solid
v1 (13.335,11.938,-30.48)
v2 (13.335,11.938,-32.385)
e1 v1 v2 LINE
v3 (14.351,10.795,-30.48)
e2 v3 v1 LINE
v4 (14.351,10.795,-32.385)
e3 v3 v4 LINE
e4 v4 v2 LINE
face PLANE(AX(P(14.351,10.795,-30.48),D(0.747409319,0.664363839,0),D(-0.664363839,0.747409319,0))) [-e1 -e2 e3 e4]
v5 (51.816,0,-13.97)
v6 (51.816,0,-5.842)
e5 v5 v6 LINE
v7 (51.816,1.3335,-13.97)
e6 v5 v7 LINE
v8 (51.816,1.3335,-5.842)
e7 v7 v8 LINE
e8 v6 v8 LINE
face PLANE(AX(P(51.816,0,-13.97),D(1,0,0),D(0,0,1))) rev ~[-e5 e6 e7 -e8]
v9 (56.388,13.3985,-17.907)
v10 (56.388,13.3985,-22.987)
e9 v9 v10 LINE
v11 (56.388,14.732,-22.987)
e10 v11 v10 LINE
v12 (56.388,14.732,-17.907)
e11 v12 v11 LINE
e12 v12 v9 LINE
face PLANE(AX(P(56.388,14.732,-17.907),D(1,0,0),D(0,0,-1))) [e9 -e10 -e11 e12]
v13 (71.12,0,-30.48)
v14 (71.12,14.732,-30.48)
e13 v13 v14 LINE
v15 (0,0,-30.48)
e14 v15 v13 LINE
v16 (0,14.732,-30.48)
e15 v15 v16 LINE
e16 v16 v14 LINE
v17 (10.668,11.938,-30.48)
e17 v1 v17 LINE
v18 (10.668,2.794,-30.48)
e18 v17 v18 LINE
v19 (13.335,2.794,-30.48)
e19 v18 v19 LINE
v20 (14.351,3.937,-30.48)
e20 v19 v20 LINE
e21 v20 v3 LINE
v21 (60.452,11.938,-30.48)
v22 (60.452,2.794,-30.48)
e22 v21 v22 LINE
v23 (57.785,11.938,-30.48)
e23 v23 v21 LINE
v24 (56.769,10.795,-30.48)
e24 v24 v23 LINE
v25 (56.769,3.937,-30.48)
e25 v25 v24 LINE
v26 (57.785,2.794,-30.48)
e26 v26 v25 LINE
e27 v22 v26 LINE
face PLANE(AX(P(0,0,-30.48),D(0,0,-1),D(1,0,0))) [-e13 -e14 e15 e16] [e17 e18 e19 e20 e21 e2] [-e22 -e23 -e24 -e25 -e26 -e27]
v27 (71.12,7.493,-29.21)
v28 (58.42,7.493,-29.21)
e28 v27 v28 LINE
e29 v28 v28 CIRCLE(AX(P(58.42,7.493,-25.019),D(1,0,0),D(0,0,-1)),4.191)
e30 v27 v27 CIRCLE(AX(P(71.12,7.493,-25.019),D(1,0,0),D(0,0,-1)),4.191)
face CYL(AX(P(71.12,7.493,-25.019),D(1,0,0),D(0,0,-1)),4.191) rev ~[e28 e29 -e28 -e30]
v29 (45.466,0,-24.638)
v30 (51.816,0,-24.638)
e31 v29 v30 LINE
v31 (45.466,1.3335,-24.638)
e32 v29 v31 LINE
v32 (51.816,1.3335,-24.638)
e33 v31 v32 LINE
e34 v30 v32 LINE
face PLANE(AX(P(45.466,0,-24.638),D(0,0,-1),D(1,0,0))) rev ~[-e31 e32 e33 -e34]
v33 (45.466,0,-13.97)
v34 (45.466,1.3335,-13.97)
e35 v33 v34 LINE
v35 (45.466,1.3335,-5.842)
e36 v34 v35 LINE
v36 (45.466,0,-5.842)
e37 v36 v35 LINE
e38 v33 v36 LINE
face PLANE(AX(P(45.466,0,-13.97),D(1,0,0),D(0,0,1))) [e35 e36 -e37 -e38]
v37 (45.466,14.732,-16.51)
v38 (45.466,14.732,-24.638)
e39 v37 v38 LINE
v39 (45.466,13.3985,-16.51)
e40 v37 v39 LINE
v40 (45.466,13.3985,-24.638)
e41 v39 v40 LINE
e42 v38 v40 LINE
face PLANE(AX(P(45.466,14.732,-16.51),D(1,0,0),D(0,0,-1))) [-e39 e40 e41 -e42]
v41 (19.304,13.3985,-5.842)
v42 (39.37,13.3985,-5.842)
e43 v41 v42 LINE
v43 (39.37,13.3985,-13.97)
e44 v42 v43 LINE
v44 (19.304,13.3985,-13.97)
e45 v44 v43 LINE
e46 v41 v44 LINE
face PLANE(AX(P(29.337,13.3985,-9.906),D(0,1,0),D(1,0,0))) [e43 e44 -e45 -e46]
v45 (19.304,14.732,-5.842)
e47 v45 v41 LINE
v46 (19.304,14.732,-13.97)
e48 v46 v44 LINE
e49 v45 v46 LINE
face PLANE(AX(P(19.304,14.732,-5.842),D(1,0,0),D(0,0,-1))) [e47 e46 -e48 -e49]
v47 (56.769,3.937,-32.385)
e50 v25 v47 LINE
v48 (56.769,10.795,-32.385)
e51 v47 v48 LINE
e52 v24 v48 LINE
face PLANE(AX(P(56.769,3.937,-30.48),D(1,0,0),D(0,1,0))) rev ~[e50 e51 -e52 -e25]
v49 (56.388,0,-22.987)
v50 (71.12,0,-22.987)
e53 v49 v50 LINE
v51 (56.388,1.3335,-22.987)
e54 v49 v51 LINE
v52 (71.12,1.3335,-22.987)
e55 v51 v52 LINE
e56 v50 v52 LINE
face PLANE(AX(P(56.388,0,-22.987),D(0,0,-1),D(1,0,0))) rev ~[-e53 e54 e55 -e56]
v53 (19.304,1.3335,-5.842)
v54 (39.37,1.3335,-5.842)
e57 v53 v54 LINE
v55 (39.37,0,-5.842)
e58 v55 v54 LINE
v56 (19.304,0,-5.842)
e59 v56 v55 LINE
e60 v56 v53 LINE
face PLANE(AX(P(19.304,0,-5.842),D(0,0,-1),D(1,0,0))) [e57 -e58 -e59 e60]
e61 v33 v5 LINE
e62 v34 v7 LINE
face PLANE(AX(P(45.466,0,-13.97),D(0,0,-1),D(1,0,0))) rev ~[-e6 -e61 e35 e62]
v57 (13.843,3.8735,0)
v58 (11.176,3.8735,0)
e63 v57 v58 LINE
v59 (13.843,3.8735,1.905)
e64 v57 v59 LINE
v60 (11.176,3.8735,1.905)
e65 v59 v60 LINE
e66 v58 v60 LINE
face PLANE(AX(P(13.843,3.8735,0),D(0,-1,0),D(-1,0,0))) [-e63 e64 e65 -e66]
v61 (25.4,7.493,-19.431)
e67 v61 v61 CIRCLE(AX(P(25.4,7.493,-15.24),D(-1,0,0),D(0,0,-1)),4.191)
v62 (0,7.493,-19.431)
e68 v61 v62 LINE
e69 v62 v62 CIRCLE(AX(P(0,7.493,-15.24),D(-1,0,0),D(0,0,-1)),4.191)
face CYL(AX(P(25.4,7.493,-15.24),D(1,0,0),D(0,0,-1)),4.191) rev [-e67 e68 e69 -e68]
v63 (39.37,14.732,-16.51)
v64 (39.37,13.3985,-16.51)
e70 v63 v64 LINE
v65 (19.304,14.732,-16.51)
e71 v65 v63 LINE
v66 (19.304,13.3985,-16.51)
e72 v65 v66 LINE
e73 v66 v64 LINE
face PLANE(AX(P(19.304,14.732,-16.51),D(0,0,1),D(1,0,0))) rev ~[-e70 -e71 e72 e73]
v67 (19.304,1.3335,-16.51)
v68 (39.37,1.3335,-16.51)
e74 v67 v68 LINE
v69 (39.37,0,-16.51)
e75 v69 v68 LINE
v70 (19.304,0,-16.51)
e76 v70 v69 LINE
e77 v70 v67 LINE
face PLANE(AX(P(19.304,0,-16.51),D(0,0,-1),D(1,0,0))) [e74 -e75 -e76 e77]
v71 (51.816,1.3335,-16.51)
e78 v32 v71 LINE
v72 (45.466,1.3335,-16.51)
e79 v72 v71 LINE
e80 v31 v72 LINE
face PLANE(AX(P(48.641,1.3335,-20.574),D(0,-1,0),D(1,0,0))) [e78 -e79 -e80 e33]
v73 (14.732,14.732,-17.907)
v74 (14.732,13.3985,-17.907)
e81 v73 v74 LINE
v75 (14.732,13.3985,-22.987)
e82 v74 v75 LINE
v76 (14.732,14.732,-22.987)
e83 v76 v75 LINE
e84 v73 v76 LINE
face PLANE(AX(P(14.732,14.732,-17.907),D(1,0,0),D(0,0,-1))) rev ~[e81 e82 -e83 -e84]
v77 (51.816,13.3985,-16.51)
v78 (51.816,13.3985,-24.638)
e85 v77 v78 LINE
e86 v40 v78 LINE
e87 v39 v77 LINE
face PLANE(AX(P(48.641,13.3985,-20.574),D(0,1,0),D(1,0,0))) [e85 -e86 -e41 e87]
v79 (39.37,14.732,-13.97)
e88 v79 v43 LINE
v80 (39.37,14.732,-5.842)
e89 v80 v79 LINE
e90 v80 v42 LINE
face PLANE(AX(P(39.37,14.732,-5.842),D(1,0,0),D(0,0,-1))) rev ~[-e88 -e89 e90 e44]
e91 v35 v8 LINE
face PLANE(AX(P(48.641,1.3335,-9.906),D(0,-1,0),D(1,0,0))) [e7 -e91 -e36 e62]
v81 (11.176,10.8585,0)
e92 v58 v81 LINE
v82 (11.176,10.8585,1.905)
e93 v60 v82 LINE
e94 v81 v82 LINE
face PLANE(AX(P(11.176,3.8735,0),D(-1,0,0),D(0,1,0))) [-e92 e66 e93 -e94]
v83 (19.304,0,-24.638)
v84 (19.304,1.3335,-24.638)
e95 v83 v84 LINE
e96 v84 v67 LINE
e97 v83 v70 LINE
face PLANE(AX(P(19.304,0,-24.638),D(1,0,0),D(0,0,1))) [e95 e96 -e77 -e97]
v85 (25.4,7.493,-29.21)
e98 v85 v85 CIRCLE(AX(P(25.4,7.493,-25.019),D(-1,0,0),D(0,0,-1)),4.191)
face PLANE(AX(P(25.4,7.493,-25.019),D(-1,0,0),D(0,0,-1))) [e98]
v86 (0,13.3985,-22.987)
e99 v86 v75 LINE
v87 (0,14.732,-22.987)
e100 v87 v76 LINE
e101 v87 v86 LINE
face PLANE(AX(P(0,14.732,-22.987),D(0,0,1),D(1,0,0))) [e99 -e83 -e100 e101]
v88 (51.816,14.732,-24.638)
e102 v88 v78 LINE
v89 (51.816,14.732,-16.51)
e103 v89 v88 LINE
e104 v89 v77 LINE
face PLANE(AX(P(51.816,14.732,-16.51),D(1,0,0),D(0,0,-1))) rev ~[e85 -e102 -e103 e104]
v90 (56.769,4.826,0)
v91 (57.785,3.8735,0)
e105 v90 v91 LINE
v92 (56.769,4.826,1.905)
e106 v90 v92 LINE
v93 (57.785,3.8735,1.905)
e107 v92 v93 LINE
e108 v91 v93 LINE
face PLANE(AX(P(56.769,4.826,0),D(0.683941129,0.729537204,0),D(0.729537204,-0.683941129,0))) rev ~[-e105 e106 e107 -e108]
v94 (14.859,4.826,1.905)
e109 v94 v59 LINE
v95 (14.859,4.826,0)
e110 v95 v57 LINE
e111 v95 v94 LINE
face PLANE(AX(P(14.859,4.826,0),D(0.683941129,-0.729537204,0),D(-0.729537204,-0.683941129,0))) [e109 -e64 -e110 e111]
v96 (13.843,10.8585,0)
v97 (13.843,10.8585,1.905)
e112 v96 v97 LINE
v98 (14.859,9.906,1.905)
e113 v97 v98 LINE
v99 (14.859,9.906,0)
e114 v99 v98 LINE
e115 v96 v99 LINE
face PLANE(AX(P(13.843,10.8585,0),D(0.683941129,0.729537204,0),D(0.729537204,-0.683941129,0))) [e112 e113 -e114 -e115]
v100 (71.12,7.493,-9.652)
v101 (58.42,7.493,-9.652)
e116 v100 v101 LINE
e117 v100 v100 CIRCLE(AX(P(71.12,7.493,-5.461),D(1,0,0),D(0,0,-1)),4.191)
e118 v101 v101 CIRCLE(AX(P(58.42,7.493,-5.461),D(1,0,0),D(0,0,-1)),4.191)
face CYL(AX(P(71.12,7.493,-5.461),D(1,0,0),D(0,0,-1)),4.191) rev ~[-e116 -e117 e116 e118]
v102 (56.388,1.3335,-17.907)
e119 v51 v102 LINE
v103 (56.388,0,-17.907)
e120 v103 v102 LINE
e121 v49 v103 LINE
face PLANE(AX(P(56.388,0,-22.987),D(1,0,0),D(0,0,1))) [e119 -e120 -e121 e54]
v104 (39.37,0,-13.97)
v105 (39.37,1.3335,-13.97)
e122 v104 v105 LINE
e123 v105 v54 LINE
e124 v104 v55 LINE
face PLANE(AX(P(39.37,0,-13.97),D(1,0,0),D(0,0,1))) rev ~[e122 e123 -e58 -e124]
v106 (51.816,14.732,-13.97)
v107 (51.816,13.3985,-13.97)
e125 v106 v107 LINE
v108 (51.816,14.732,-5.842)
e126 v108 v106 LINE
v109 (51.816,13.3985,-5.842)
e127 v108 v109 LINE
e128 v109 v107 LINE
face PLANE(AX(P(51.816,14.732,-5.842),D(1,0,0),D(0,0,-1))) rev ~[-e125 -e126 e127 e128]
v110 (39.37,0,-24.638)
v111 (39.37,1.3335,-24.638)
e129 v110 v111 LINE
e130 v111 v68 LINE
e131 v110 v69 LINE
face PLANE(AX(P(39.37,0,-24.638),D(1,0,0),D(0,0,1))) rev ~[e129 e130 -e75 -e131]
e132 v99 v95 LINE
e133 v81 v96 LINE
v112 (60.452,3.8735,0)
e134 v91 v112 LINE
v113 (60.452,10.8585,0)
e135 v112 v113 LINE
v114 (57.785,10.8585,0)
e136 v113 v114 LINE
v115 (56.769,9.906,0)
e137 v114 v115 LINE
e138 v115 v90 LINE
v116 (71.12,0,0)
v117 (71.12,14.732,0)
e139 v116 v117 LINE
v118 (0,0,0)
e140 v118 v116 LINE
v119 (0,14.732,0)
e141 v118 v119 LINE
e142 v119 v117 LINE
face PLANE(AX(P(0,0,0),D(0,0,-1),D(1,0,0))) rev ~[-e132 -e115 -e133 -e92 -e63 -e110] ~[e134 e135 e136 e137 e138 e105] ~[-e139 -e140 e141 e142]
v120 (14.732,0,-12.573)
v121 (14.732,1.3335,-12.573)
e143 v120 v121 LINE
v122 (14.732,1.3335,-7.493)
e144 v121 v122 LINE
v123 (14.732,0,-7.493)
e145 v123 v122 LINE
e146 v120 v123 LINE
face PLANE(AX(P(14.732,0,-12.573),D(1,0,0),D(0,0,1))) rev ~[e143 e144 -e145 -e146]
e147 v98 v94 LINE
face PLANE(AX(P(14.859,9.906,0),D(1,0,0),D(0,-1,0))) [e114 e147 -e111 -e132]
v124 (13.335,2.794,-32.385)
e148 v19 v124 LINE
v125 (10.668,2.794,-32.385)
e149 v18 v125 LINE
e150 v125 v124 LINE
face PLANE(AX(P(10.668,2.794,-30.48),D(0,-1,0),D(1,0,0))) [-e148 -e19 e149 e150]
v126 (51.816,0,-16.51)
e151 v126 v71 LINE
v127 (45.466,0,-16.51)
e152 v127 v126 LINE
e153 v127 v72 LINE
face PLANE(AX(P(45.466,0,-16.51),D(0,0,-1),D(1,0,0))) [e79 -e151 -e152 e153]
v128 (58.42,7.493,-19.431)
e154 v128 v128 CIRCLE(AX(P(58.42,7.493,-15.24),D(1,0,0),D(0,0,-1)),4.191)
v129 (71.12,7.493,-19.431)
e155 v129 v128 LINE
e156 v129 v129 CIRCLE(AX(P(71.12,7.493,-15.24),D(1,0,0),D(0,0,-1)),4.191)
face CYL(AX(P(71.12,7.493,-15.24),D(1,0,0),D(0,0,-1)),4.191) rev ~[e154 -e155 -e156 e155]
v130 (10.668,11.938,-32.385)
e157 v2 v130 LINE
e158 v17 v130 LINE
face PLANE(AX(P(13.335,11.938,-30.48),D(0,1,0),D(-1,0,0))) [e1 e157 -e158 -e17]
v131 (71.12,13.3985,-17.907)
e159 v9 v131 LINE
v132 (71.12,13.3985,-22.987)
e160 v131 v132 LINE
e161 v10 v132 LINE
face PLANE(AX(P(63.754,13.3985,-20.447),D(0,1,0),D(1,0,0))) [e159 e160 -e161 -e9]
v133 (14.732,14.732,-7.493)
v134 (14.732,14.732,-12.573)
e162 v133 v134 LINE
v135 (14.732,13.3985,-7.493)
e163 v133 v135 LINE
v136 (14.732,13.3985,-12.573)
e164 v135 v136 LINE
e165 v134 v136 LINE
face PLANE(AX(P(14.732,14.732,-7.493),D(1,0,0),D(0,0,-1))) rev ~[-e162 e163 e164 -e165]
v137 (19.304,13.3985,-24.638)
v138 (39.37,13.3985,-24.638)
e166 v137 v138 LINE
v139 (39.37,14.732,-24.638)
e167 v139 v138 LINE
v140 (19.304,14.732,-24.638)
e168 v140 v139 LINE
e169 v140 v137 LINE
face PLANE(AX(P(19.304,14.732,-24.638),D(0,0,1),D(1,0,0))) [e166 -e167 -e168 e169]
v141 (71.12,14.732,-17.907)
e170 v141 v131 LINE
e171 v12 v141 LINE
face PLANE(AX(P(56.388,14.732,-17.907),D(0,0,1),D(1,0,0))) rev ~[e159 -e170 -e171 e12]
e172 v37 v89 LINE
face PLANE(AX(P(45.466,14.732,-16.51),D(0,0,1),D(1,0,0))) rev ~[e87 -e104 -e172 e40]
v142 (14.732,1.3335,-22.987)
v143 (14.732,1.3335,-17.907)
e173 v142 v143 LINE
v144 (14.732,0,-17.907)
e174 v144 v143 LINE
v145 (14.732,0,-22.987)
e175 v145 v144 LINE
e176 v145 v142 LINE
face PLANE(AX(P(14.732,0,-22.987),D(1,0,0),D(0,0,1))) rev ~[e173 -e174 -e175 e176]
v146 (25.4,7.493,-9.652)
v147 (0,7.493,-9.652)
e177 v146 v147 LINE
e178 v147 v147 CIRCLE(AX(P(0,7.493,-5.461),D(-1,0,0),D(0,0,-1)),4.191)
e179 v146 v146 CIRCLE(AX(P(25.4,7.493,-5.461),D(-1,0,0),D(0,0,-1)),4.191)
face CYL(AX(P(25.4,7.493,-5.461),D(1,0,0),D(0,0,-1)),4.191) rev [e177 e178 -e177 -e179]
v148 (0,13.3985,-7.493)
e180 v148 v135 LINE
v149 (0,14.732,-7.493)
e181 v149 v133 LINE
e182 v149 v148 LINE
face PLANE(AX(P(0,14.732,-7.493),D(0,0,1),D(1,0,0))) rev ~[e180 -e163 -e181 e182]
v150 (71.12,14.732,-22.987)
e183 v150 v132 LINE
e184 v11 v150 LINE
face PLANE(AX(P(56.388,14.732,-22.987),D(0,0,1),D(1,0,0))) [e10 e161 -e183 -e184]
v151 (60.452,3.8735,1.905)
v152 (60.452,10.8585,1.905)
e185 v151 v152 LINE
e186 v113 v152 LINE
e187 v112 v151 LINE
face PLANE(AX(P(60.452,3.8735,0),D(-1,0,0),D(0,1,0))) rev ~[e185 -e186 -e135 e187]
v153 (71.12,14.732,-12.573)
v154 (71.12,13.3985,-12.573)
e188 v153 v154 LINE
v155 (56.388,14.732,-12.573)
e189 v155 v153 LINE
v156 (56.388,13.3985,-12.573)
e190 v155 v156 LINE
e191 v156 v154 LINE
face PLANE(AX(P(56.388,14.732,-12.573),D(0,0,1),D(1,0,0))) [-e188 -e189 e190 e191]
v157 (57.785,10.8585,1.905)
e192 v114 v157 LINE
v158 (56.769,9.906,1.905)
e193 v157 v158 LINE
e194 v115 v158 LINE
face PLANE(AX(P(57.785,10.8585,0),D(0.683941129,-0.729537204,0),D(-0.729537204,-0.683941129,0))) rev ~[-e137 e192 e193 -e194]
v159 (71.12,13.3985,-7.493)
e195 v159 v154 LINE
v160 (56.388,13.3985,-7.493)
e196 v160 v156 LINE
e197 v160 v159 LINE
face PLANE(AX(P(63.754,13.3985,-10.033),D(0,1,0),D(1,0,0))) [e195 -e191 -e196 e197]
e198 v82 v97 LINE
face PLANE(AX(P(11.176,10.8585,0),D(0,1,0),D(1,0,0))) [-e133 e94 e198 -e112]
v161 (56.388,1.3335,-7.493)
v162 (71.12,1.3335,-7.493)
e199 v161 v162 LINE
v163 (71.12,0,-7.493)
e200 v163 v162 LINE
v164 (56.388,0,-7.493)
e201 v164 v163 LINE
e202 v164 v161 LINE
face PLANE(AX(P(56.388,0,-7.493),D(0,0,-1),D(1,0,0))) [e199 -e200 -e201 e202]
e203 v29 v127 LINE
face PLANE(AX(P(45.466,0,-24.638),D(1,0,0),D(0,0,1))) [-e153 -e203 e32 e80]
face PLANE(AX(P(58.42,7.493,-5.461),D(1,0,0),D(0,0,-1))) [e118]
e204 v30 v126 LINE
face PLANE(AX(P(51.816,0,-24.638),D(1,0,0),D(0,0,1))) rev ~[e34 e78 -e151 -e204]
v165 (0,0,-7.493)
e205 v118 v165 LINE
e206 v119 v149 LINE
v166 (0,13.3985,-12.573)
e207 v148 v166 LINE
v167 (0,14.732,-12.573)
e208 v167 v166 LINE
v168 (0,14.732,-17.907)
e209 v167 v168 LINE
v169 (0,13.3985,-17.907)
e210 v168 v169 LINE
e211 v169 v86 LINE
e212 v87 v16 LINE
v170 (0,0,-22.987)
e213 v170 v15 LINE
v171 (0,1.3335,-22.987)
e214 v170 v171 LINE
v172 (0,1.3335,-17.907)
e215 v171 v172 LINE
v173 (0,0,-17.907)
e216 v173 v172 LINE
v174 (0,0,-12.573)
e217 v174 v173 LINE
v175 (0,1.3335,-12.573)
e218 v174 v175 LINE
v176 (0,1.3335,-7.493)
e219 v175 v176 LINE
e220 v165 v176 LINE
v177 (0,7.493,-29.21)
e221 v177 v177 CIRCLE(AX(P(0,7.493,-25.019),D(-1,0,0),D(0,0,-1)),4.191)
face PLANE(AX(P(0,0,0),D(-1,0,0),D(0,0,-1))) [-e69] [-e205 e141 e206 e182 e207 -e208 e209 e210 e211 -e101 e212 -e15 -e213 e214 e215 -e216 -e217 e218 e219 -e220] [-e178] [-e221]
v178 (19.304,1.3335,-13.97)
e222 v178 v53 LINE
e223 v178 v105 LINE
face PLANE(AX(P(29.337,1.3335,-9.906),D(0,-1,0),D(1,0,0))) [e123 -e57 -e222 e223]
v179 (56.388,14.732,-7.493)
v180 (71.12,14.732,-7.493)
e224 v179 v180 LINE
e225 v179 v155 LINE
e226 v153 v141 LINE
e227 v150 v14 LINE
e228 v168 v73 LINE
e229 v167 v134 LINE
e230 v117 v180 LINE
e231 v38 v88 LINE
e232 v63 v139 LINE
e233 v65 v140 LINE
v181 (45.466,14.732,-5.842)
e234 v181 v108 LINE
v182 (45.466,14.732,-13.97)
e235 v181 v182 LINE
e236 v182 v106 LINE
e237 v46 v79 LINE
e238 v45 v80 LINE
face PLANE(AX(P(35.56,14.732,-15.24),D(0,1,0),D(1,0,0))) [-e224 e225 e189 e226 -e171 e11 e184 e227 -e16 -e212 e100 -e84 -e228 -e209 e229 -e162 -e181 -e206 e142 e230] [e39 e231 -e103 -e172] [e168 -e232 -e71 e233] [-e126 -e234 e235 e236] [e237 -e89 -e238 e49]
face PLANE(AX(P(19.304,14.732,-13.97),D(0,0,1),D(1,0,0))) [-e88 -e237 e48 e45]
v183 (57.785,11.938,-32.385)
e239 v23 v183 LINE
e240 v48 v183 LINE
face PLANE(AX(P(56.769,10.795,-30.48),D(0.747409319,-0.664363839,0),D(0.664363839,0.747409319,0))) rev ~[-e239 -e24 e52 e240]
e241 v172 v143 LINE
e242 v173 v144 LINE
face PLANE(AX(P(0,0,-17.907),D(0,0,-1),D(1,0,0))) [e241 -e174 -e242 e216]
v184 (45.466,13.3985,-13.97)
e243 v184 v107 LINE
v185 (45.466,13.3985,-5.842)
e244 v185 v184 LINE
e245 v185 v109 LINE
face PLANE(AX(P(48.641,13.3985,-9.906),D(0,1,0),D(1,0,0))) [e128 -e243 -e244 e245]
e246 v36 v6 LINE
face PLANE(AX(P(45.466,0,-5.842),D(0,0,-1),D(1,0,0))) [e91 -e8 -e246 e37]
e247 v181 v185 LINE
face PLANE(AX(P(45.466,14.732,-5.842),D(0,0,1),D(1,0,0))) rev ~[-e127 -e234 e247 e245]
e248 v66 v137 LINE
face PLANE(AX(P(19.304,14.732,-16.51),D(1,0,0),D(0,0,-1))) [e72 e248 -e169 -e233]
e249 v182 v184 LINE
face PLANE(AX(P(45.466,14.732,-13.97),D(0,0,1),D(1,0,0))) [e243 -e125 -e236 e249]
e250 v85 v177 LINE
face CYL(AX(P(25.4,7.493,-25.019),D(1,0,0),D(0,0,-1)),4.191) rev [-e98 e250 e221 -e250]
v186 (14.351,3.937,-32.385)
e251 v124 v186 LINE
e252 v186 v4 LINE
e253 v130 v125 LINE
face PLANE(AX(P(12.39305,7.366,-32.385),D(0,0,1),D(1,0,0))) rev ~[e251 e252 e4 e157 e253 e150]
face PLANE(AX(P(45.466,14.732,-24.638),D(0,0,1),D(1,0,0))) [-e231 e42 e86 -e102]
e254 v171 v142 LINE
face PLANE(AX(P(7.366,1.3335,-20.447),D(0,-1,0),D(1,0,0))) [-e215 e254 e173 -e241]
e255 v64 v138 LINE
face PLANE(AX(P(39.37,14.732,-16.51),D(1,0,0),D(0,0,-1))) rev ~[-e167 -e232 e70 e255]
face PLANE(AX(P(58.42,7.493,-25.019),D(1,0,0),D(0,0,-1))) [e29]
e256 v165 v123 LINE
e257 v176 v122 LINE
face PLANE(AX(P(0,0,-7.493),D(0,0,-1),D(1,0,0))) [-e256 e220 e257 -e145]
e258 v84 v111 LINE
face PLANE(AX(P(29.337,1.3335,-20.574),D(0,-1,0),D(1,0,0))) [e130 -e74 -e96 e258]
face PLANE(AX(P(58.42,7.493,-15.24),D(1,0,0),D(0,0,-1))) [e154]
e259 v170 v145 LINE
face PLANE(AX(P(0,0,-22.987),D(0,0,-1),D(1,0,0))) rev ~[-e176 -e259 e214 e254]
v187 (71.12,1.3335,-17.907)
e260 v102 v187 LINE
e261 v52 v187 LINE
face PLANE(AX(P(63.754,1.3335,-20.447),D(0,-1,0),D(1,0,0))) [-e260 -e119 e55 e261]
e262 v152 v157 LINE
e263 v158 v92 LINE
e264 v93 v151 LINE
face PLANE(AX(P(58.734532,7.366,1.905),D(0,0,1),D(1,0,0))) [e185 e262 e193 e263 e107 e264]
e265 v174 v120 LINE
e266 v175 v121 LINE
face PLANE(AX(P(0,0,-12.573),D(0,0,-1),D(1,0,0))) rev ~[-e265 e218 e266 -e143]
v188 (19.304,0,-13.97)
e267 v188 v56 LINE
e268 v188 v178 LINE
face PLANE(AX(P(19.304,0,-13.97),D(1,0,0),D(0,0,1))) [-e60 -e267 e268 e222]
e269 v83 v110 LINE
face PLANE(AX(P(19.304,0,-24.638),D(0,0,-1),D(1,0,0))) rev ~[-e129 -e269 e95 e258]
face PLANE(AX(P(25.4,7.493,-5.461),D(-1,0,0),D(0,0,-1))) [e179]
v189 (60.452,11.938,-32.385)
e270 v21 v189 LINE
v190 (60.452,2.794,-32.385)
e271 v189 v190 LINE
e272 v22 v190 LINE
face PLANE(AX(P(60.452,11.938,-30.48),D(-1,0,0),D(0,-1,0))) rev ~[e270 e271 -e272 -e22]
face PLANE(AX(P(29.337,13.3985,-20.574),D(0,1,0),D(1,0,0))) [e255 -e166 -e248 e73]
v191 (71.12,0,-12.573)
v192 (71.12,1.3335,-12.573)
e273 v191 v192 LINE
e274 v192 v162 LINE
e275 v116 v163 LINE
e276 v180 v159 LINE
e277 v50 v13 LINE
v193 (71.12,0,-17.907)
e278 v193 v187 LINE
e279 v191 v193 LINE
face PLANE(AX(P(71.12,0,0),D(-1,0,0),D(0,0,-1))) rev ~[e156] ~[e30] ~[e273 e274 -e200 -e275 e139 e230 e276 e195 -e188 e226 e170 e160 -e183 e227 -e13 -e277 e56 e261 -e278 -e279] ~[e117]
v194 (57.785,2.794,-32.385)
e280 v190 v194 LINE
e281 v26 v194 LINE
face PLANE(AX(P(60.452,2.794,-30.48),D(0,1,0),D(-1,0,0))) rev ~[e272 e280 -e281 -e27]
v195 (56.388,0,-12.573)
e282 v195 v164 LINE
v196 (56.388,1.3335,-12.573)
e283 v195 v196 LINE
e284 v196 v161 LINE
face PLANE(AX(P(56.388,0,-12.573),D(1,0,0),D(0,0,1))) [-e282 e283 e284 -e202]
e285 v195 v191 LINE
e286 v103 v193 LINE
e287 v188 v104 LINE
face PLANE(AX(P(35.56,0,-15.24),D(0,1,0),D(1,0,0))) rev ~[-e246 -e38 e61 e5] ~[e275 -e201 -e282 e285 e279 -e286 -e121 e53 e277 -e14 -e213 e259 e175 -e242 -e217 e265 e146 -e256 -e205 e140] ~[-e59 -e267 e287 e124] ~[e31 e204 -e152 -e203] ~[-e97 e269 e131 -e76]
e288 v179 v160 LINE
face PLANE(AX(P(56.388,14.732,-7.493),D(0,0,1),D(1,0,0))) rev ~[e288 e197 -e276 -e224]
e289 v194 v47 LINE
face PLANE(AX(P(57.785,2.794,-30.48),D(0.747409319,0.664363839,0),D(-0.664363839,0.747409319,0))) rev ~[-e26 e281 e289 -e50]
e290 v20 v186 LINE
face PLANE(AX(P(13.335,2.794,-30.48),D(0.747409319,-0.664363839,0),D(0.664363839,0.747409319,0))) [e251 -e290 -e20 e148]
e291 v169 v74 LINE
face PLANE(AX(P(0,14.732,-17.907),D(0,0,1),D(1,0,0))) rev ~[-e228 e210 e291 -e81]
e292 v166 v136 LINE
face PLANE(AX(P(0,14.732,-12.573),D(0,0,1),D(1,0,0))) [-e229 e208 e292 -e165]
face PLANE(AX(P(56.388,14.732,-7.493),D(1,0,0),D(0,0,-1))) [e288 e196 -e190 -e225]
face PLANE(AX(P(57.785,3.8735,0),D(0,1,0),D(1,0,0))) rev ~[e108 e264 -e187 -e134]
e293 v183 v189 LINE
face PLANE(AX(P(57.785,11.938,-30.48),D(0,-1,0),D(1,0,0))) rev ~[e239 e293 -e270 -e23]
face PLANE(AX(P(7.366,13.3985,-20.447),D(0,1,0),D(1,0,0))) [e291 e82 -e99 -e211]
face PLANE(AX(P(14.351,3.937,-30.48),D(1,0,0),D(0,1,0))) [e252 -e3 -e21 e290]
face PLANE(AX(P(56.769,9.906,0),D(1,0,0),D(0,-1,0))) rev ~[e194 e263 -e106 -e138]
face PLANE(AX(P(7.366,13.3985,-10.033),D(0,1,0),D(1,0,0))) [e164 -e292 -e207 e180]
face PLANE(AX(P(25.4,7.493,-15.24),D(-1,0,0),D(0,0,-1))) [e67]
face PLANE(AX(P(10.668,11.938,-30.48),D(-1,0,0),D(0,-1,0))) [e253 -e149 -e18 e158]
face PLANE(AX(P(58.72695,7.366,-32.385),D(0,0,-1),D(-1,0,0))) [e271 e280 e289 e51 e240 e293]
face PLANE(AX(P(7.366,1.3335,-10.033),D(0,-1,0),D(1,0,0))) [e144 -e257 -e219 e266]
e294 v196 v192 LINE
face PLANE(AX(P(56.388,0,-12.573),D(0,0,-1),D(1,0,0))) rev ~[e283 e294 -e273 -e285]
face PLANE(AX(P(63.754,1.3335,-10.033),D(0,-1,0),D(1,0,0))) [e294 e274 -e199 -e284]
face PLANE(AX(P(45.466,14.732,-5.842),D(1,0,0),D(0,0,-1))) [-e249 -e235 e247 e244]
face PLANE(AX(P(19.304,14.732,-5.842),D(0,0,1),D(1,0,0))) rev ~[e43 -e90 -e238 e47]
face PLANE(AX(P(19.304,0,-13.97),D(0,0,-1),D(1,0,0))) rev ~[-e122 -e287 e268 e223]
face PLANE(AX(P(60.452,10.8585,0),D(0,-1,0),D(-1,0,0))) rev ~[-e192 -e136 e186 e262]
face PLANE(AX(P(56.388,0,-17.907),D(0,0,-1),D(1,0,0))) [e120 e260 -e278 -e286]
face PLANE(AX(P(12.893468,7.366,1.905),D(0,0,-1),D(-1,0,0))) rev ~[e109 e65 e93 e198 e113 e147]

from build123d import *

# Parameters (mm, degrees)
SKETCH1_W           = 71.12
SKETCH1_H           = 30.48
BOSS_EXTRUDE1_DEPTH = 14.732
SKETCH2_R           = 4.191
CUT_EXTRUDE1_DEPTH  = 12.7
CUT_EXTRUDE2_START  = -25.4
SKETCH3_R           = 4.191
CUT_EXTRUDE2_DEPTH  = 25.4
SKETCH4_W           = 14.732
SKETCH4_H           = 5.08
SKETCH4_W_2         = 6.35
SKETCH4_H_2         = 8.128
SKETCH4_W_3         = 20.066
CUT_EXTRUDE3_DEPTH  = 1.3335
BOSS_EXTRUDE2_DEPTH = 1.905
BOSS_EXTRUDE3_DEPTH = 1.905
SKETCH7_W           = 14.732
SKETCH7_H           = 5.08
SKETCH7_W_2         = 20.066
SKETCH7_H_2         = 8.128
SKETCH7_W_3         = 6.35
CUT_EXTRUDE4_DEPTH  = 1.3335


with BuildPart() as part:
    # Sketch1 → Boss-Extrude1 (new body)
    with BuildSketch(Plane(origin=(0, 0, 0), x_dir=(1, 0, 0), z_dir=(0, 1, 0))):
        with Locations((35.56, 15.24)):
            Rectangle(SKETCH1_W, SKETCH1_H)
    extrude(amount=BOSS_EXTRUDE1_DEPTH)

    # Sketch2 → Cut-Extrude1 (cut)
    with BuildSketch(Plane(origin=(71.12, 0, 0), x_dir=(0, 0, -1), z_dir=(1, 0, 0))):
        with Locations((15.24, 7.493)):
            Circle(SKETCH2_R)
        with Locations((25.019, 7.493)):
            Circle(SKETCH2_R)
        with Locations((5.461, 7.493)):
            Circle(SKETCH2_R)
    extrude(amount=-CUT_EXTRUDE1_DEPTH, mode=Mode.SUBTRACT)

    # Sketch3 → Cut-Extrude2 (cut)
    with BuildSketch(Plane.ZY.offset(CUT_EXTRUDE2_START)):
        with Locations(Location((-15.24, 7.493, 0), (0, 0, 180))):
            Circle(SKETCH3_R)
        with Locations(Location((-5.461, 7.493, 0), (0, 0, 180))):
            Circle(SKETCH3_R)
        with Locations(Location((-25.019, 7.493, 0), (0, 0, 180))):
            Circle(SKETCH3_R)
    extrude(amount=CUT_EXTRUDE2_DEPTH, mode=Mode.SUBTRACT)

    # Sketch4 → Cut-Extrude3 (cut)
    with BuildSketch(Plane(origin=(0, 14.732, 0), x_dir=(1, 0, 0), z_dir=(0, 1, 0))):
        with Locations((63.754, 20.447)):
            Rectangle(SKETCH4_W, SKETCH4_H)
        with Locations((63.754, 10.033)):
            Rectangle(SKETCH4_W, SKETCH4_H)
        with Locations((48.641, 20.574)):
            Rectangle(SKETCH4_W_2, SKETCH4_H_2)
        with Locations((48.641, 9.906)):
            Rectangle(SKETCH4_W_2, SKETCH4_H_2)
        with Locations((29.337, 20.574)):
            Rectangle(SKETCH4_W_3, SKETCH4_H_2)
        with Locations((29.337, 9.906)):
            Rectangle(SKETCH4_W_3, SKETCH4_H_2)
        with Locations((7.366, 20.447)):
            Rectangle(SKETCH4_W, SKETCH4_H)
        with Locations((7.366, 10.033)):
            Rectangle(SKETCH4_W, SKETCH4_H)
    extrude(amount=-CUT_EXTRUDE3_DEPTH, mode=Mode.SUBTRACT)

    # Sketch5 → Boss-Extrude2 (add)
    with BuildSketch(Plane.XY):
        Polygon((60.452, 3.8735), (60.452, 10.8585), (57.785, 10.8585), (56.769, 9.906), (56.769, 4.826), (57.785, 3.8735), align=None)
        Polygon((13.843, 3.8735), (11.176, 3.8735), (11.176, 10.8585), (13.843, 10.8585), (14.859, 9.906), (14.859, 4.826), align=None)
    extrude(amount=BOSS_EXTRUDE2_DEPTH)

    # Sketch6 → Boss-Extrude3 (add)
    with BuildSketch(Plane(origin=(0, 0, -30.48), x_dir=(-1, 0, 0), z_dir=(0, 0, -1))):
        Polygon((-60.452, 11.938), (-60.452, 2.794), (-57.785, 2.794), (-56.769, 3.937), (-56.769, 10.795), (-57.785, 11.938), align=None)
        Polygon((-13.335, 11.938), (-10.668, 11.938), (-10.668, 2.794), (-13.335, 2.794), (-14.351, 3.937), (-14.351, 10.795), align=None)
    extrude(amount=BOSS_EXTRUDE3_DEPTH)

    # Sketch7 → Cut-Extrude4 (cut)
    with BuildSketch(Plane.XZ):
        with Locations((7.366, -20.447)):
            Rectangle(SKETCH7_W, SKETCH7_H)
        with Locations((7.366, -10.033)):
            Rectangle(SKETCH7_W, SKETCH7_H)
        with Locations((29.337, -20.574)):
            Rectangle(SKETCH7_W_2, SKETCH7_H_2)
        with Locations((29.337, -9.906)):
            Rectangle(SKETCH7_W_2, SKETCH7_H_2)
        with Locations((48.641, -20.574)):
            Rectangle(SKETCH7_W_3, SKETCH7_H_2)
        with Locations((48.641, -9.906)):
            Rectangle(SKETCH7_W_3, SKETCH7_H_2)
        with Locations((63.754, -20.447)):
            Rectangle(SKETCH7_W, SKETCH7_H)
        with Locations((63.754, -10.033)):
            Rectangle(SKETCH7_W, SKETCH7_H)
    extrude(amount=-CUT_EXTRUDE4_DEPTH, mode=Mode.SUBTRACT)


solid = part.part
